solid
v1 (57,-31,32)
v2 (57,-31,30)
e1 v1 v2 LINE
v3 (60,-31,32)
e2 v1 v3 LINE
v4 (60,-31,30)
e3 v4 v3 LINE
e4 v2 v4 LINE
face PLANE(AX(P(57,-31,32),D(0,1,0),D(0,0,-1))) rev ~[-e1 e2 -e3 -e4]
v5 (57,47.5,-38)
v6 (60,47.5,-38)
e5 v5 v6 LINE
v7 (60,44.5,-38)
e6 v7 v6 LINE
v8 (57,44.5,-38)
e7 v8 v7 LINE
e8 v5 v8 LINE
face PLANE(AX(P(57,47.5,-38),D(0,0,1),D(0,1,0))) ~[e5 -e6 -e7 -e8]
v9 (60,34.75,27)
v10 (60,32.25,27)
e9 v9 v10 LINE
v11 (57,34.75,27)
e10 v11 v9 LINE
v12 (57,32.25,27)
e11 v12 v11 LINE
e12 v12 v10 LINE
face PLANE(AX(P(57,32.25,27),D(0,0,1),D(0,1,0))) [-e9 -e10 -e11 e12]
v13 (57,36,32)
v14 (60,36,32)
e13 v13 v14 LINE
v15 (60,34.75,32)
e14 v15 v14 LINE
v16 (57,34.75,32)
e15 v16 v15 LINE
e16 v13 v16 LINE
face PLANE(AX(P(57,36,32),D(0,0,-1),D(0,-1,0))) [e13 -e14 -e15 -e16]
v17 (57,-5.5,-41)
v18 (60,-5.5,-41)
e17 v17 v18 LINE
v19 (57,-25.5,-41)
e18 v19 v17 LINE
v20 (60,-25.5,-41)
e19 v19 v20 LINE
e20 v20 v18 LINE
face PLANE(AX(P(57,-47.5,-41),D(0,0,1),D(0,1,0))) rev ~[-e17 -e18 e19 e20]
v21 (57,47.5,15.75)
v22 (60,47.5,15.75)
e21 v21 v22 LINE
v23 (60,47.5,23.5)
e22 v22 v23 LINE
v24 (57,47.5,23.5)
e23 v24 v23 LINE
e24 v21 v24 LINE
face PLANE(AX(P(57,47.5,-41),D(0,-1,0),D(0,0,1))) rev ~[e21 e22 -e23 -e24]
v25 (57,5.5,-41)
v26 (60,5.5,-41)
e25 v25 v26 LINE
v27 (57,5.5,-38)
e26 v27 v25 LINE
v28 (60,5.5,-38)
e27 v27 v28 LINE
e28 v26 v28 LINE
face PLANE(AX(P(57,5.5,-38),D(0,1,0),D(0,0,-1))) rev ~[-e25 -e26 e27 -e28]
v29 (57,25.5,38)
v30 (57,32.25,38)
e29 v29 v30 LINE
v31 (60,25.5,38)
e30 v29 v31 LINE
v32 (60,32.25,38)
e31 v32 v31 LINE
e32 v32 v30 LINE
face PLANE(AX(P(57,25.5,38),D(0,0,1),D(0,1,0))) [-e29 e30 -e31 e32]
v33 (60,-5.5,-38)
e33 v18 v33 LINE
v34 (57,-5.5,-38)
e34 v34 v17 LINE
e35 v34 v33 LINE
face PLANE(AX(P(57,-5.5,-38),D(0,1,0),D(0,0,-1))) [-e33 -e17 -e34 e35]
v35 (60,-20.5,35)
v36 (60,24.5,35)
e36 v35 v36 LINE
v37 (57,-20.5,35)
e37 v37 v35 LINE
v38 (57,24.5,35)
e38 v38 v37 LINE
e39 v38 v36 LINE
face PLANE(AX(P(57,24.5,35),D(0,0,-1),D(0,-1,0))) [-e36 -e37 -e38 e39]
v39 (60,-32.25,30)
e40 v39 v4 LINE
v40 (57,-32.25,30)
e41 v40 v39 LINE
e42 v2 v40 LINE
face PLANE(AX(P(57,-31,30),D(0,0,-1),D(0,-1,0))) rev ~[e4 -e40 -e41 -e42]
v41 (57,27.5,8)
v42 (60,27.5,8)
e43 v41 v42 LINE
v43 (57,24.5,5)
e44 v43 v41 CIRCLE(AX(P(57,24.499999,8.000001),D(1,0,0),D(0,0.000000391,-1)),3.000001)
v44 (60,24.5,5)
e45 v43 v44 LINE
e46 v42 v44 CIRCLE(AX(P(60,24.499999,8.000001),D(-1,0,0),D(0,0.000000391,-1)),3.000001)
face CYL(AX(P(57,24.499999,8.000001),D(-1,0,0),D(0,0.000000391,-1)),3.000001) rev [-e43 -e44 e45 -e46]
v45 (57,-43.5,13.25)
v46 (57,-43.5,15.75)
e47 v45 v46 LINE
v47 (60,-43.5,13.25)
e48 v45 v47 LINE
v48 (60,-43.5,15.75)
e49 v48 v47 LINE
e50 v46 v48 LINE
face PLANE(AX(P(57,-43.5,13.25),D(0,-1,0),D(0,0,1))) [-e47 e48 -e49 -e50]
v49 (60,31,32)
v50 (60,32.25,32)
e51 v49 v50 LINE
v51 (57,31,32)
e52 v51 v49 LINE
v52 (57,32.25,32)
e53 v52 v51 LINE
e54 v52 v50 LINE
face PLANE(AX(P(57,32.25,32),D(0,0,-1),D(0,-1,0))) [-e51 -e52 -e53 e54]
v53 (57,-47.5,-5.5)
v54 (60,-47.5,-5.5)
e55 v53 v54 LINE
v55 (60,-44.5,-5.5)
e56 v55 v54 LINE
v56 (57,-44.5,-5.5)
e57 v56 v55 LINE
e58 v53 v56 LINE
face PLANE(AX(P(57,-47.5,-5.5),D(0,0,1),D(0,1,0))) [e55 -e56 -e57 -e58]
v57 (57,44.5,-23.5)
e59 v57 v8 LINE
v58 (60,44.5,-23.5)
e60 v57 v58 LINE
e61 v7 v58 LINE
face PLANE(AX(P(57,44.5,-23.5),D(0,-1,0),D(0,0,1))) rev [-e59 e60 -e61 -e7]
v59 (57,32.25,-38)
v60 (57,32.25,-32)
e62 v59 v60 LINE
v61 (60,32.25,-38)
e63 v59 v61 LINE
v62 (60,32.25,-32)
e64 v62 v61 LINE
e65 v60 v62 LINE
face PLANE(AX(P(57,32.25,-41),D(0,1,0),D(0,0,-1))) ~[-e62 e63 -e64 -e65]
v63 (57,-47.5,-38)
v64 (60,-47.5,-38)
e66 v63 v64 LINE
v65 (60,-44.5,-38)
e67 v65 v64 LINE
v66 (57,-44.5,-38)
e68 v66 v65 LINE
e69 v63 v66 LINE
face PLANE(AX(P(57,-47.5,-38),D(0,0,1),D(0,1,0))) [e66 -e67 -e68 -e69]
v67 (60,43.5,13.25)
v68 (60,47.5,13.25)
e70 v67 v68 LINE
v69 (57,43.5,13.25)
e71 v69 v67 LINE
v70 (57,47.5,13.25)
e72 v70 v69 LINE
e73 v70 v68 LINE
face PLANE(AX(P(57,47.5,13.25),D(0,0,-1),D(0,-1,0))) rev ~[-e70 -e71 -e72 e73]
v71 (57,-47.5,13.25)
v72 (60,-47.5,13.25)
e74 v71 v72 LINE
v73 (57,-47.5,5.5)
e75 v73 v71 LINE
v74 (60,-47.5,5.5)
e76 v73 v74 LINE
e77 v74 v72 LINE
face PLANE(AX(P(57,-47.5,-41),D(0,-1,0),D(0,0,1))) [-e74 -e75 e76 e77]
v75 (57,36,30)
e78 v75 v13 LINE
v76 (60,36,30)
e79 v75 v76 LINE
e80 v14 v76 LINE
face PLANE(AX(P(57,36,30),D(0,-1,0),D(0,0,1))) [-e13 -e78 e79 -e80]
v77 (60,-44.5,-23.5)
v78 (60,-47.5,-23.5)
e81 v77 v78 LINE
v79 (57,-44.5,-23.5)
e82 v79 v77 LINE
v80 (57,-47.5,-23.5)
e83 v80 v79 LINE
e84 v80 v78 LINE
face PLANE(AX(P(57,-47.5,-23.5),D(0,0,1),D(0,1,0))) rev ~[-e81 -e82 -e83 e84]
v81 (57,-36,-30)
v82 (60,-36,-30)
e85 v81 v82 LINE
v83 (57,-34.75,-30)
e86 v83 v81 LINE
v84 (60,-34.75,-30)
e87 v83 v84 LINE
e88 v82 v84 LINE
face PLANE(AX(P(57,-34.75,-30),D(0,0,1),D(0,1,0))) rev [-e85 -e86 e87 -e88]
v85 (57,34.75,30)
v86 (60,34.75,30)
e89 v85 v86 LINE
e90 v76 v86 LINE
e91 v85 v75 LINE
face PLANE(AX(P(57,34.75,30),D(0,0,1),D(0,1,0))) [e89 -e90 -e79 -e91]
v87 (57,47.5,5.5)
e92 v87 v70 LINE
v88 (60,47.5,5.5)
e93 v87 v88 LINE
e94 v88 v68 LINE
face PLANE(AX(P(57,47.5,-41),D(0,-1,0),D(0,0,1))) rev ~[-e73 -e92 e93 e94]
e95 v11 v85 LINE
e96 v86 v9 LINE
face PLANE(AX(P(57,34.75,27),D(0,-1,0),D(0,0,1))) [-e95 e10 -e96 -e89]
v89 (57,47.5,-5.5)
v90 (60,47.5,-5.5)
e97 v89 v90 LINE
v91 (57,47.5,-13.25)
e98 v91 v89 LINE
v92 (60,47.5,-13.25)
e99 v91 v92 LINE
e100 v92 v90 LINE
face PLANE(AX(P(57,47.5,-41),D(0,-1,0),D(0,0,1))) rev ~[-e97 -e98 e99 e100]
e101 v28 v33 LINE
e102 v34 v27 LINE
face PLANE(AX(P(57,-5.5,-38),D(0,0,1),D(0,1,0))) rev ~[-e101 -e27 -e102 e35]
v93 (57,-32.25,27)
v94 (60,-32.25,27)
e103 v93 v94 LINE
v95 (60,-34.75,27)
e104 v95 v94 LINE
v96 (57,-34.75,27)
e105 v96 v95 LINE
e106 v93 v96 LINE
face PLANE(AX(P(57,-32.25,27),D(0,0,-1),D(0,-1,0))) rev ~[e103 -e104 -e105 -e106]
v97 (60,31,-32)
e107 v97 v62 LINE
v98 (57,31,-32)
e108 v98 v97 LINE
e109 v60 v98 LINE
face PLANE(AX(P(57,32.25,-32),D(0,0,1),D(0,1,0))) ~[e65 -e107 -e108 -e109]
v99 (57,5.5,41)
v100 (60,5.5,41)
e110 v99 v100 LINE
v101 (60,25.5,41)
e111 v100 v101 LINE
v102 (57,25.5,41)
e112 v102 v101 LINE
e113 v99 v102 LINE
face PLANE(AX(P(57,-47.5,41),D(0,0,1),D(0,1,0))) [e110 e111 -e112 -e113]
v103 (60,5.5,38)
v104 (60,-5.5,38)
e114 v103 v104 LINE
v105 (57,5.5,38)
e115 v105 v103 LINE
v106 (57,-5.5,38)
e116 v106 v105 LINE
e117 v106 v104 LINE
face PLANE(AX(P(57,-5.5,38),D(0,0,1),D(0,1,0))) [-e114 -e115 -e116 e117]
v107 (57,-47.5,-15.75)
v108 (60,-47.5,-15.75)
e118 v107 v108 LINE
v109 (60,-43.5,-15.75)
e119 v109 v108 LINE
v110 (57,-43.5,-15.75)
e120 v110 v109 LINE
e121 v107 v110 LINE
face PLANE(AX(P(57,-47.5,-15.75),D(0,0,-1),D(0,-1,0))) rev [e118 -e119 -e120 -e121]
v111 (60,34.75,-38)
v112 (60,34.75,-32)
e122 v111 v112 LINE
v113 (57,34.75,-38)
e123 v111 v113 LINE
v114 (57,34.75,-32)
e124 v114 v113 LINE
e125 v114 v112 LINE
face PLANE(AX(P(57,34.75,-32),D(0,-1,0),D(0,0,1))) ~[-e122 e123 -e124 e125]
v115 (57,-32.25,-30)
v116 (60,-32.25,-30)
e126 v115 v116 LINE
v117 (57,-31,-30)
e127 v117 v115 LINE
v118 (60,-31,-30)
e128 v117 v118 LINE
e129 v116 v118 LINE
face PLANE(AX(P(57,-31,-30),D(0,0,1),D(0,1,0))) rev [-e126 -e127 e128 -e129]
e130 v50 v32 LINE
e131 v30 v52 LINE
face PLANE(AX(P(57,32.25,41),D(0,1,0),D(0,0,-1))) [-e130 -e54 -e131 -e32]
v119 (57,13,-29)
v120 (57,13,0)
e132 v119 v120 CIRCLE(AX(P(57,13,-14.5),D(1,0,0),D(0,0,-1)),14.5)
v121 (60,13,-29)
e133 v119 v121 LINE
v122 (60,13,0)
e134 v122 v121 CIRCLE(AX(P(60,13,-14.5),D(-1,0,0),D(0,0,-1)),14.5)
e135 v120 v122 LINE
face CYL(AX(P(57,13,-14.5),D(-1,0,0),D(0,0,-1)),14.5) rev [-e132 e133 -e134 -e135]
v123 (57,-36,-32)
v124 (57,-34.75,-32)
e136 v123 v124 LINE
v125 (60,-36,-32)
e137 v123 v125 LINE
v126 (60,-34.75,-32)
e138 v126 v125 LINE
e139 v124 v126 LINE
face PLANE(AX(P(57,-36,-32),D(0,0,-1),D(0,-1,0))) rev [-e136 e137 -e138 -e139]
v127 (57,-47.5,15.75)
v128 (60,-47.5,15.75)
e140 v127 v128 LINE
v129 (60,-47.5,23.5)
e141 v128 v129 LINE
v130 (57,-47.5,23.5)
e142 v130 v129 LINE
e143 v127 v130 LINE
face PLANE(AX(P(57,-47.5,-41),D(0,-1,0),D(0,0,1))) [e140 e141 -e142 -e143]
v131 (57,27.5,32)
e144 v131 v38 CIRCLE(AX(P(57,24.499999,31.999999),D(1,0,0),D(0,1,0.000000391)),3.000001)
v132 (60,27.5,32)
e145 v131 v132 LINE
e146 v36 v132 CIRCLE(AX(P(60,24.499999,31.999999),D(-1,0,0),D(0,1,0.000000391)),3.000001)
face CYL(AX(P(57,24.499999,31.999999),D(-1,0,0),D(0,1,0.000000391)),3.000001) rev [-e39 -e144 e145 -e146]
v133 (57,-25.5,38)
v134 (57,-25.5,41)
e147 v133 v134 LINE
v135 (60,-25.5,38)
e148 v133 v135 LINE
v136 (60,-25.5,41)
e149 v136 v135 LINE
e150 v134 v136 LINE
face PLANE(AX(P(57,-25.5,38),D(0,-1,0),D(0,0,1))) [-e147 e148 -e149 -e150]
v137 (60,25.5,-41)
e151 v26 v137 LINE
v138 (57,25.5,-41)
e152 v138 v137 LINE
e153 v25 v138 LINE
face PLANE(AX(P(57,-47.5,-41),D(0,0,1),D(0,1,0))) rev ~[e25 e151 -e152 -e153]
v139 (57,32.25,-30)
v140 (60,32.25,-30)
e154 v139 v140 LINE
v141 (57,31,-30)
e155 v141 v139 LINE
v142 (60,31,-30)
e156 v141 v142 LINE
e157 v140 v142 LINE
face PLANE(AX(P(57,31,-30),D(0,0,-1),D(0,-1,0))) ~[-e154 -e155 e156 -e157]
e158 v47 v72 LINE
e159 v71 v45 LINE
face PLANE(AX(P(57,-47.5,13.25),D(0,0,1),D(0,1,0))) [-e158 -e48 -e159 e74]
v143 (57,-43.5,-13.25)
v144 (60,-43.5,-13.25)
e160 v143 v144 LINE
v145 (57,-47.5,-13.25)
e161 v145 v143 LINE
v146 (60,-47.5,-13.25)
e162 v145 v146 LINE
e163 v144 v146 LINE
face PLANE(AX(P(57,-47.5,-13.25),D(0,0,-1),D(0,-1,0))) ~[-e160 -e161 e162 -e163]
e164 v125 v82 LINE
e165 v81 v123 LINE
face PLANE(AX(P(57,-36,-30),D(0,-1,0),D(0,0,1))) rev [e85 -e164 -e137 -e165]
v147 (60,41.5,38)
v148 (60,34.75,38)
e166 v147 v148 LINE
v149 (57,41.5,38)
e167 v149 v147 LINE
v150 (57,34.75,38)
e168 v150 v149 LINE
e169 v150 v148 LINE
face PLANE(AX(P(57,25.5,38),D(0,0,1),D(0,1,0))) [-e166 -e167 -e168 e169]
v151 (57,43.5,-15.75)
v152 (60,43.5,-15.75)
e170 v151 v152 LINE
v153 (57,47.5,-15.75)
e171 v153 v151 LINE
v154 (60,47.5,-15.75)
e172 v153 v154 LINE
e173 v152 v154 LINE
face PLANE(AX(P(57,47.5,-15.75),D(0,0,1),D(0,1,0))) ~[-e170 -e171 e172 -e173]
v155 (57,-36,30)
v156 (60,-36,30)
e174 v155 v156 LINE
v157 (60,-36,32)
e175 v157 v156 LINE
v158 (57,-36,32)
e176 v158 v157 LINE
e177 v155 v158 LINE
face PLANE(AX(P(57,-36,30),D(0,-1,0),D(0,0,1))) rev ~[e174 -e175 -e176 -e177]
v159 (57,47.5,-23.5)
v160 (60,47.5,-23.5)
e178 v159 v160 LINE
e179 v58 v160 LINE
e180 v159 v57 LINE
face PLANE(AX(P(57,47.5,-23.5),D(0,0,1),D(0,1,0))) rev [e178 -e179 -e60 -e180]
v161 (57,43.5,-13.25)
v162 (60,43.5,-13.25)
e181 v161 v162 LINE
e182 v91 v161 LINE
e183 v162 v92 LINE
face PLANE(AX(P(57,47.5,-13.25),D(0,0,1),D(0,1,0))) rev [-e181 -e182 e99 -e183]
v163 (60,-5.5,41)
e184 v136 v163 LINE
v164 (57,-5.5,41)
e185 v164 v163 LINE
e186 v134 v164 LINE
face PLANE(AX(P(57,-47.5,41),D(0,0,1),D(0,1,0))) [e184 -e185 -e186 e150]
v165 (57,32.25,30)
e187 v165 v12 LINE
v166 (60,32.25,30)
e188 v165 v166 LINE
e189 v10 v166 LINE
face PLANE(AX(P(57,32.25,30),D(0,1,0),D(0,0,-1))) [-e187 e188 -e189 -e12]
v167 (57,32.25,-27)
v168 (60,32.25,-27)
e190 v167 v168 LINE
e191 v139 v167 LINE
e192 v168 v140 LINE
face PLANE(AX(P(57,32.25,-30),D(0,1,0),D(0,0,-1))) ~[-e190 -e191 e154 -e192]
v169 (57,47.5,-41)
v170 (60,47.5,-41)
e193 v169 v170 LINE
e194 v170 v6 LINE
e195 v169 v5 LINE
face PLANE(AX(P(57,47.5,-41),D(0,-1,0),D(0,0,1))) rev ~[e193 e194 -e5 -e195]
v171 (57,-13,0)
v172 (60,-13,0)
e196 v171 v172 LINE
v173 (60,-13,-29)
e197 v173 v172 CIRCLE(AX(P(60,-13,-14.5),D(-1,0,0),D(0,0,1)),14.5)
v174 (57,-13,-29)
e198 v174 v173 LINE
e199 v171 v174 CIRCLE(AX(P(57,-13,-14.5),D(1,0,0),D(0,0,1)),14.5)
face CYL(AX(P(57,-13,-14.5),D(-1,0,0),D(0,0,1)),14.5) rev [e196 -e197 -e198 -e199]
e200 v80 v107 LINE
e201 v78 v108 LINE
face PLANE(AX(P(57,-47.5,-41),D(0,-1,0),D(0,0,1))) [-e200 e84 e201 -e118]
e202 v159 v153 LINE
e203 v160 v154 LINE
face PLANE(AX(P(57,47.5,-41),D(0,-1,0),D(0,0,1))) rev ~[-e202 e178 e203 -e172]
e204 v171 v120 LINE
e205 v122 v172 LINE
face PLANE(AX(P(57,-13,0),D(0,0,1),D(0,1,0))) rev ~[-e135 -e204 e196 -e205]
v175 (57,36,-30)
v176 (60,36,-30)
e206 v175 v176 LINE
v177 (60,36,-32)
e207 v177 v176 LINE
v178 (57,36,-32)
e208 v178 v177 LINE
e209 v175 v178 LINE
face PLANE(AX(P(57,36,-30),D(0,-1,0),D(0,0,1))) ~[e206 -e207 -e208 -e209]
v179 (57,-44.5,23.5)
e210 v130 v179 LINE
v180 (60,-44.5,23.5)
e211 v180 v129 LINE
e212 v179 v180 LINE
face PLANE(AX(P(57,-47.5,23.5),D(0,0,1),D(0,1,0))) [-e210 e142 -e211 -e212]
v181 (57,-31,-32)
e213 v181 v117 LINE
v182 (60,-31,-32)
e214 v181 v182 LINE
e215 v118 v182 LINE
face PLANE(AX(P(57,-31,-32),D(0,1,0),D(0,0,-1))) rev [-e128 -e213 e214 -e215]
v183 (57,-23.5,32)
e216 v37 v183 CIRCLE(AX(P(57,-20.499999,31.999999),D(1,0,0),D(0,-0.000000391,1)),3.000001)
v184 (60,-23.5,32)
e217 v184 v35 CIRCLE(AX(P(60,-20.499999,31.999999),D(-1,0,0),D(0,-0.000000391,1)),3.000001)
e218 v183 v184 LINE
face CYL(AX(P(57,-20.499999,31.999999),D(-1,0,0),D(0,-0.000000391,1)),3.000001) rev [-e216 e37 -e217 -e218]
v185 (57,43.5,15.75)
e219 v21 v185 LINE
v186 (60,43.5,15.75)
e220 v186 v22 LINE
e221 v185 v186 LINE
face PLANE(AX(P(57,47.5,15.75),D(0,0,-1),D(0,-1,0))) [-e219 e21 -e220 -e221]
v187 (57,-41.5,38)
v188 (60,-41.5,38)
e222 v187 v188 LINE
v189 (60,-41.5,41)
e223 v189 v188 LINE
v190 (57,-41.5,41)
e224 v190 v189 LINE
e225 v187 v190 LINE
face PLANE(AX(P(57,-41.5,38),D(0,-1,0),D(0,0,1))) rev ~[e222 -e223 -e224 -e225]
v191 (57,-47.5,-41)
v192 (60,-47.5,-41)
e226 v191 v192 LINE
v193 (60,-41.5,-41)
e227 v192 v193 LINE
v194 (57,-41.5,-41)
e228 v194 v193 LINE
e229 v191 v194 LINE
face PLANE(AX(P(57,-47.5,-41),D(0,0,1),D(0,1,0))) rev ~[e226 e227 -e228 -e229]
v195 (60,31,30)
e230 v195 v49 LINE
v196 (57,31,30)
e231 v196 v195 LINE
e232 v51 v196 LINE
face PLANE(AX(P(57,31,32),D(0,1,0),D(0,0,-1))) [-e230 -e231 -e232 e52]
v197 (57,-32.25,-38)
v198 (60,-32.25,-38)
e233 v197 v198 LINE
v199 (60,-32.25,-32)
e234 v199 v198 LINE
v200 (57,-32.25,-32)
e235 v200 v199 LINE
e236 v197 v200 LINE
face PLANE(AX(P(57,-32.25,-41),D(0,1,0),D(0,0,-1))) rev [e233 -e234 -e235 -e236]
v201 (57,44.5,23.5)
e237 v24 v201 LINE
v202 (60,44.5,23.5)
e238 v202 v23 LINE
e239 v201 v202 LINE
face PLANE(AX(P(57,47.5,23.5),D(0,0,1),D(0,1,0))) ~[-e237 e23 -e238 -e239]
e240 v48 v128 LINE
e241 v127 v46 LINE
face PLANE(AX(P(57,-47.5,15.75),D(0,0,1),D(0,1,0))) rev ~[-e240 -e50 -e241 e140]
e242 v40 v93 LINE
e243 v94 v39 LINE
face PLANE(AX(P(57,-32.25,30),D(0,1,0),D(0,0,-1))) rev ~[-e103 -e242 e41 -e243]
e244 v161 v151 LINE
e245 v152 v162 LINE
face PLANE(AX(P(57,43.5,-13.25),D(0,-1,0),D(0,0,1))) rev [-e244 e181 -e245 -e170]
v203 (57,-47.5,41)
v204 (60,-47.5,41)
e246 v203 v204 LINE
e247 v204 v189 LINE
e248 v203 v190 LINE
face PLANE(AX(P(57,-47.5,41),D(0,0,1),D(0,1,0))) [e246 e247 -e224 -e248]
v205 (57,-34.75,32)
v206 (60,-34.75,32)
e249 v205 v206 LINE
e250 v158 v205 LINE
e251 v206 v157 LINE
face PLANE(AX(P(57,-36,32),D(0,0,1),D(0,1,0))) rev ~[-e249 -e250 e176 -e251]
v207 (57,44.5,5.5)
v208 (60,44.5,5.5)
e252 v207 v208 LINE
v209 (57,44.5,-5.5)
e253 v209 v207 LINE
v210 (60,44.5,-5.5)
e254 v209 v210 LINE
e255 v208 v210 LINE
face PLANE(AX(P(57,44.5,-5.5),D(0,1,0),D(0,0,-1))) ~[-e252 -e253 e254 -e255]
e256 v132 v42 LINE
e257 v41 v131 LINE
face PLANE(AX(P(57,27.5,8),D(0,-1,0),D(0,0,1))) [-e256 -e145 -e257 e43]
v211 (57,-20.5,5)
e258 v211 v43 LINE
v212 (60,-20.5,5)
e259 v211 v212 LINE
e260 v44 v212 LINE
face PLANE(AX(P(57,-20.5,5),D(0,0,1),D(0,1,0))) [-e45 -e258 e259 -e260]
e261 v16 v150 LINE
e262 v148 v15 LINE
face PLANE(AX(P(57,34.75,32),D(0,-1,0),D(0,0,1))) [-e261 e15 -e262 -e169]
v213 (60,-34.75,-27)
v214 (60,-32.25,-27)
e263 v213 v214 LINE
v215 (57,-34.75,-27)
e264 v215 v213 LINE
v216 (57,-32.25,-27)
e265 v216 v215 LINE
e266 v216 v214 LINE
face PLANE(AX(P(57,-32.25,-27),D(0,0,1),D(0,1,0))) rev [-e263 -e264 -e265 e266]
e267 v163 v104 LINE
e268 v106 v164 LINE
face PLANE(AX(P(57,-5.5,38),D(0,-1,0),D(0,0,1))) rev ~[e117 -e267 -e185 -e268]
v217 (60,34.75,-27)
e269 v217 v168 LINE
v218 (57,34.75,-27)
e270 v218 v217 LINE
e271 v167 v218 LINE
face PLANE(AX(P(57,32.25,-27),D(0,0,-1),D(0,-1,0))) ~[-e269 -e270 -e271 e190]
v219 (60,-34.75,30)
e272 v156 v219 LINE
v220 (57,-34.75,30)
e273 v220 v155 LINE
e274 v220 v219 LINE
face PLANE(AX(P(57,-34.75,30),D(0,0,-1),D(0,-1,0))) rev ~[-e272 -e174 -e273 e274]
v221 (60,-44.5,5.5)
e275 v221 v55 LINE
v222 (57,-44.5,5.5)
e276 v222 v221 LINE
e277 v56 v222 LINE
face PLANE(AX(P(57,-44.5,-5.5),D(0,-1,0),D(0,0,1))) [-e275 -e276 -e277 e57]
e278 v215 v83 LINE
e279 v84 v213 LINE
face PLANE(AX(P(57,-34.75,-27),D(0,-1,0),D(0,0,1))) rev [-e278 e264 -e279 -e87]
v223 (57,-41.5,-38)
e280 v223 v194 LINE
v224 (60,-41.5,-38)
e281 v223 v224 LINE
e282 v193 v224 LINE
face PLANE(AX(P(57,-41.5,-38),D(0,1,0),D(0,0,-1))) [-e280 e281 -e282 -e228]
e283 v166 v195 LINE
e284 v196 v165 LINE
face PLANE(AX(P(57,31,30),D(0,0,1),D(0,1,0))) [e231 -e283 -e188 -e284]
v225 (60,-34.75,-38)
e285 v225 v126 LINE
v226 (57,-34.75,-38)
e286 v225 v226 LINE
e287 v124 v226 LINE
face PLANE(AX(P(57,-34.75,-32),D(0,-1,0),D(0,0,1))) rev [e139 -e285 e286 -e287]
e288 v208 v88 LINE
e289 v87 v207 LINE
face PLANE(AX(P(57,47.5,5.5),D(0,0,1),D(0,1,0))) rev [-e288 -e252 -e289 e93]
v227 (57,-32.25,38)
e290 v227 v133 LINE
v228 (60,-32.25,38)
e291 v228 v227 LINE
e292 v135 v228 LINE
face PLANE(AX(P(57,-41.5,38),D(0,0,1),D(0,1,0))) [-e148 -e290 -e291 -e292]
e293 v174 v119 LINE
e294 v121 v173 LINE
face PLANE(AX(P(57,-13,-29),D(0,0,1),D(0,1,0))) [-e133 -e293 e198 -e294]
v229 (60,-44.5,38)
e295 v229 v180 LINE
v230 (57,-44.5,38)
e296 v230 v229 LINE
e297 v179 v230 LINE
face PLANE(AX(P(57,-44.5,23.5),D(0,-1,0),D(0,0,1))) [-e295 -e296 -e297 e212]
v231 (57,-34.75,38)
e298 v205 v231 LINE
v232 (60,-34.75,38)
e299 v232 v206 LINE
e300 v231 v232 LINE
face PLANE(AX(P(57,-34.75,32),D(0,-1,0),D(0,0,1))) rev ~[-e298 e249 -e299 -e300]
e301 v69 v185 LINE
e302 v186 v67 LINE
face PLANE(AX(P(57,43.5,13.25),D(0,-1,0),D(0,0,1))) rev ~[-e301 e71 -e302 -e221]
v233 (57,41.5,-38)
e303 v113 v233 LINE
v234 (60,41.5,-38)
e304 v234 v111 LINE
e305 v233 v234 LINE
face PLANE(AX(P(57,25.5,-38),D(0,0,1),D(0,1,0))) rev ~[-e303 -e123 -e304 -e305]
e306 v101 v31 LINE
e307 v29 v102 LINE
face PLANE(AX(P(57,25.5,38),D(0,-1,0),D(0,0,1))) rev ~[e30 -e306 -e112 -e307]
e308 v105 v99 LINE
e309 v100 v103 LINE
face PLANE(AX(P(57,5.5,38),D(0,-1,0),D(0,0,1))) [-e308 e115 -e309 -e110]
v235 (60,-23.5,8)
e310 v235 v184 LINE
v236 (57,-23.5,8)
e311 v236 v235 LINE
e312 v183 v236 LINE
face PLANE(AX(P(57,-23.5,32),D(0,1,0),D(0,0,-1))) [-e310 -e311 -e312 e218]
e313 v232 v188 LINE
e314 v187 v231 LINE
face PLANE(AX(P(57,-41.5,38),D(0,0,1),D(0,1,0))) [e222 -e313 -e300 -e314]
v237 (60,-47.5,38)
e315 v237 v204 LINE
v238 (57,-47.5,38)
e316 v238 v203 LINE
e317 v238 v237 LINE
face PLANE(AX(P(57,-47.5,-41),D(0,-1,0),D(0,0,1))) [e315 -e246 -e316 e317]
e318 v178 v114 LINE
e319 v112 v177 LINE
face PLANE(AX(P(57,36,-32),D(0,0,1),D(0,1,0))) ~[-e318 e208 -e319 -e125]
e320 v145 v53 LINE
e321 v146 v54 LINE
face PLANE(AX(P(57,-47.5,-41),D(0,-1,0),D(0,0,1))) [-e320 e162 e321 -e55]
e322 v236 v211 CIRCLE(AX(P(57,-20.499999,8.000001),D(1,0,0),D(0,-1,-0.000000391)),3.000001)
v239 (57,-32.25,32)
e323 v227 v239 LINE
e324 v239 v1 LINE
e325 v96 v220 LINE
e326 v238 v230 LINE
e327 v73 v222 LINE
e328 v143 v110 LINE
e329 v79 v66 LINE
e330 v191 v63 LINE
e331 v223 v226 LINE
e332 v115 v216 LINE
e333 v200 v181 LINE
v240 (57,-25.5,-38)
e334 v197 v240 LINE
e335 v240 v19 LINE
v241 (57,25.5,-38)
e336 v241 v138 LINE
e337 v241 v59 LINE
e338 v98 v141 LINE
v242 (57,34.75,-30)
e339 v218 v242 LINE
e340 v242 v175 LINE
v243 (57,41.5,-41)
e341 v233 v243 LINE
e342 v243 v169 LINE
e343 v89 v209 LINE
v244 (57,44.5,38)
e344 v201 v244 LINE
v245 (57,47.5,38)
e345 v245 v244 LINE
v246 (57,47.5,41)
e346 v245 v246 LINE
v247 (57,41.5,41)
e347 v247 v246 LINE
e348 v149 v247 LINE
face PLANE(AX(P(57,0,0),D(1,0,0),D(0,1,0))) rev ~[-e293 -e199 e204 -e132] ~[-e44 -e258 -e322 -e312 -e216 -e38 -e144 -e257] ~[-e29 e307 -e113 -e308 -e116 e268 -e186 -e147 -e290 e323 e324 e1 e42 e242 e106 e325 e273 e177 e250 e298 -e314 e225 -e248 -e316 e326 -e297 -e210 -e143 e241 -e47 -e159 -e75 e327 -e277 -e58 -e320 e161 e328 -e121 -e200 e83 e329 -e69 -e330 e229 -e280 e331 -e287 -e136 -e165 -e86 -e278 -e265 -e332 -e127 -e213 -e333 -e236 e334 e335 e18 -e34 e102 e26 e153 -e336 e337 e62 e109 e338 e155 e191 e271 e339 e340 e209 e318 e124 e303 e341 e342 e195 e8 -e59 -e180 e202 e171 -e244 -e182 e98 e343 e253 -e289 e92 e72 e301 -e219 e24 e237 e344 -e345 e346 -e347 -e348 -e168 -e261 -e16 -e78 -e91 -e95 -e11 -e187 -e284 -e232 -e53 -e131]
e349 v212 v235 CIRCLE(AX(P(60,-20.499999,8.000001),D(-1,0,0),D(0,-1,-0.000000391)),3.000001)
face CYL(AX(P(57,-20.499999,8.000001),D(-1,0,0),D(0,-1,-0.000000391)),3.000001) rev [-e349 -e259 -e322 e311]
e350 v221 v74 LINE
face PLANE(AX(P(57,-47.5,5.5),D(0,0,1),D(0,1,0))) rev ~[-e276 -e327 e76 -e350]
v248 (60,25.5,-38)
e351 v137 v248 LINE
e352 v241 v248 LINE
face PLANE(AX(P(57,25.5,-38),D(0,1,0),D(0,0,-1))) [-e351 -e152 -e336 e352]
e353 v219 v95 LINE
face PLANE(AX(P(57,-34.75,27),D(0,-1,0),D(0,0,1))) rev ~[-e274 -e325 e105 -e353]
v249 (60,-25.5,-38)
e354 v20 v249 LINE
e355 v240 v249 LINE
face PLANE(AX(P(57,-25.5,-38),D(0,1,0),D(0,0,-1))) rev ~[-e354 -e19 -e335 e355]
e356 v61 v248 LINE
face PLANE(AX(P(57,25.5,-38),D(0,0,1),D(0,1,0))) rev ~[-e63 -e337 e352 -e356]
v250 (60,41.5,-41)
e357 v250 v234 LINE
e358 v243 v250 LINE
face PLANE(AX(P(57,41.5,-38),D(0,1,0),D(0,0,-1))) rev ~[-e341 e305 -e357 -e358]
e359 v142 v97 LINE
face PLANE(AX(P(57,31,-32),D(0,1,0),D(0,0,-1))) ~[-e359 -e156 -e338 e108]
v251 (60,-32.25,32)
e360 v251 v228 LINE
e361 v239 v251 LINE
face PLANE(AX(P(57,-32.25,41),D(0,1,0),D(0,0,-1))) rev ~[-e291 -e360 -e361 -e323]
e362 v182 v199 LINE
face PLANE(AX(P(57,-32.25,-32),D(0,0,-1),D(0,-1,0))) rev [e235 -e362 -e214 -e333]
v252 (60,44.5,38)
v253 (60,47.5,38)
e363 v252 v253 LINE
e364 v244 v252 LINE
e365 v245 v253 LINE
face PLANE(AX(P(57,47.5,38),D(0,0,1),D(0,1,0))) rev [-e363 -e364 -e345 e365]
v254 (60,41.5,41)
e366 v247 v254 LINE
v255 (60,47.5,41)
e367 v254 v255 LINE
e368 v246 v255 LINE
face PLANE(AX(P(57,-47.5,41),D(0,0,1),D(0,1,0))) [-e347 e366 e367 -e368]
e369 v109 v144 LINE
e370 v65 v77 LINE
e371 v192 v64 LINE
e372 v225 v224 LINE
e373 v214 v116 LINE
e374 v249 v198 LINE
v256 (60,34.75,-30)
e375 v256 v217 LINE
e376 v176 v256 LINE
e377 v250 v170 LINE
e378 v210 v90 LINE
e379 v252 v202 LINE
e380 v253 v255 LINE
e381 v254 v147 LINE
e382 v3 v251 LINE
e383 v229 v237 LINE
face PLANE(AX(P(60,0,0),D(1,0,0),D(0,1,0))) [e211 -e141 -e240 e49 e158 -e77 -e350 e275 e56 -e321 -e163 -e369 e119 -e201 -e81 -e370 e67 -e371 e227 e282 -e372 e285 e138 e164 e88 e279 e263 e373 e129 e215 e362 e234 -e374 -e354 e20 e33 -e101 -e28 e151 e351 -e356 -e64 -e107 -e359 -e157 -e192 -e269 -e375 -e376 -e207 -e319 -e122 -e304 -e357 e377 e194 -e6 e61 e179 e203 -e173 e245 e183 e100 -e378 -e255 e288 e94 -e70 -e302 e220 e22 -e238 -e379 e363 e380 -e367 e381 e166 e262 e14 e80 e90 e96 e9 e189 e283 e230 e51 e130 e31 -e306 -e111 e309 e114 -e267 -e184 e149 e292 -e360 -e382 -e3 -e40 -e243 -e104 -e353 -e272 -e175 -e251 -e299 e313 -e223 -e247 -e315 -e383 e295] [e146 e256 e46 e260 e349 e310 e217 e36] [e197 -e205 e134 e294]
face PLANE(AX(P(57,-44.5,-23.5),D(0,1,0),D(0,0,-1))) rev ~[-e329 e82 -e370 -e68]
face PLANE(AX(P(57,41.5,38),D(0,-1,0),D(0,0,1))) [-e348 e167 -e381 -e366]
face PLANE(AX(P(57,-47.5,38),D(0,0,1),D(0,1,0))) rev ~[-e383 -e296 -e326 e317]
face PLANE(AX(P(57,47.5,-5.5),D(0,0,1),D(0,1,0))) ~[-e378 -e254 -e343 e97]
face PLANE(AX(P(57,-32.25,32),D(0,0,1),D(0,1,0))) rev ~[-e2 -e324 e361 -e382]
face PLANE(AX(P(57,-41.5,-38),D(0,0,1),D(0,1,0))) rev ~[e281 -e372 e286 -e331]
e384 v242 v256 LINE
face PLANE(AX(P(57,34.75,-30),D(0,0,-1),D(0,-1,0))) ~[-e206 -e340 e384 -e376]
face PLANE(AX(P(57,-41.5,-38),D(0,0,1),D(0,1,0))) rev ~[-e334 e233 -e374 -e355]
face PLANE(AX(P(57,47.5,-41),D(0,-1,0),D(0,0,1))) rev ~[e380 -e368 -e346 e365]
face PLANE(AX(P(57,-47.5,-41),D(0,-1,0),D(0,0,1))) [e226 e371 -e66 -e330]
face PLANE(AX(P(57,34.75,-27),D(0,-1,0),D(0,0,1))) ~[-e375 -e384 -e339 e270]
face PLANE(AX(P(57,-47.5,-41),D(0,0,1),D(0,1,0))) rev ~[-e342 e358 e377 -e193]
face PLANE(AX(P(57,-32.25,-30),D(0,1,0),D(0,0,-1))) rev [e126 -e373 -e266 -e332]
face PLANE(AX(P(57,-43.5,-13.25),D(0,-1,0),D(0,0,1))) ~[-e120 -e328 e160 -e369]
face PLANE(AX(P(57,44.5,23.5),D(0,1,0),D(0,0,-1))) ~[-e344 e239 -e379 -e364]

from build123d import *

# Parameters (mm, degrees)
SKETCH020_W                   = 95
SKETCH020_H                   = 82
PAD005_DEPTH                  = 3
SKETCH021_W                   = 11
SKETCH021_H                   = 3
SKETCH021_W_2                 = 16
SKETCH021_W_3                 = 3
SKETCH021_H_2                 = 14.5
SKETCH021_H_3                 = 11
POCKET015_DEPTH               = 254.062745
SKETCH021_MIRRORED019_2_W     = 11
SKETCH021_MIRRORED019_2_H     = 3
SKETCH021_MIRRORED019_2_W_2   = 16
SKETCH021_MIRRORED019_2_W_3   = 3
SKETCH021_MIRRORED019_2_H_2   = 14.5
SKETCH021_MIRRORED019_2_H_3   = 11
POCKET015_MIRRORED019_2_DEPTH = 254.062745
SKETCH022_W                   = 4
SKETCH022_H                   = 2.5
POCKET016_DEPTH               = 254.062745
POCKET017_DEPTH               = 3.001
SKETCH022_MIRRORED026_2_W     = 4
SKETCH022_MIRRORED026_2_H     = 2.5
POCKET016_MIRRORED026_2_DEPTH = 254.062745


with BuildPart() as part:
    # Sketch020 → Pad005 (new body)
    with BuildSketch(Plane.YZ):
        Rectangle(SKETCH020_W, SKETCH020_H)
    extrude(amount=PAD005_DEPTH)

    # Sketch021 → Pocket015 (cut, through all)
    with BuildSketch(Plane.YZ):
        with Locations((0, 39.5)):
            Rectangle(SKETCH021_W, SKETCH021_H)
        with Locations((-33.5, 39.5)):
            Rectangle(SKETCH021_W_2, SKETCH021_H)
        with Locations((33.5, 39.5)):
            Rectangle(SKETCH021_W_2, SKETCH021_H)
        with Locations((-46, 30.75)):
            Rectangle(SKETCH021_W_3, SKETCH021_H_2)
        with Locations((-46, 0)):
            Rectangle(SKETCH021_W_3, SKETCH021_H_3)
    pocket015 = extrude(amount=POCKET015_DEPTH, mode=Mode.SUBTRACT)

    # Sketch021 Mirrored019 2 → Pocket015 Mirrored019 2 (cut, through all)
    with BuildSketch(Plane(origin=(0, 0, 0), x_dir=(0, 1, 0), z_dir=(-1, 0, 0))):
        with Locations((0, 39.5)):
            Rectangle(SKETCH021_MIRRORED019_2_W, SKETCH021_MIRRORED019_2_H)
        with Locations((-33.5, 39.5)):
            Rectangle(SKETCH021_MIRRORED019_2_W_2, SKETCH021_MIRRORED019_2_H)
        with Locations((33.5, 39.5)):
            Rectangle(SKETCH021_MIRRORED019_2_W_2, SKETCH021_MIRRORED019_2_H)
        with Locations((-46, 30.75)):
            Rectangle(SKETCH021_MIRRORED019_2_W_3, SKETCH021_MIRRORED019_2_H_2)
        with Locations((-46, 0)):
            Rectangle(SKETCH021_MIRRORED019_2_W_3, SKETCH021_MIRRORED019_2_H_3)
    pocket015_mirrored019_2 = extrude(amount=-POCKET015_MIRRORED019_2_DEPTH, mode=Mode.SUBTRACT)

    # Mirrored028: Pocket015, Pocket015 Mirrored019 2 across Sketch021 V_Axis
    add(pocket015.mirror(Plane(origin=(0, 0, 0), x_dir=(1, 0, 0), z_dir=(0, 1, 0))), mode=Mode.SUBTRACT)
    add(pocket015_mirrored019_2.mirror(Plane(origin=(0, 0, 0), x_dir=(1, 0, 0), z_dir=(0, 1, 0))), mode=Mode.SUBTRACT)

    # Sketch022 → Pocket016 (cut, through all)
    with BuildSketch(Plane.YZ):
        Polygon((-32.25, 41), (-32.25, 32), (-31, 32), (-31, 30), (-32.25, 30), (-32.25, 27), (-34.75, 27), (-34.75, 30), (-36, 30), (-36, 32), (-34.75, 32), (-34.75, 41), align=None)
        with Locations((-45.5, 14.5)):
            Rectangle(SKETCH022_W, SKETCH022_H)
    pocket016 = extrude(amount=POCKET016_DEPTH, mode=Mode.SUBTRACT)

    # Sketch023 → Pocket017 (cut, through all)
    with BuildSketch(Plane.YZ):
        with BuildLine():
            Line((-20.5, 5), (24.5, 5))
            ThreePointArc((24.5, 5), (26.62132, 5.87868), (27.5, 8))
            Line((27.5, 8), (27.5, 32))
            ThreePointArc((27.5, 32), (26.62132, 34.12132), (24.5, 35))
            Line((24.5, 35), (-20.5, 35))
            ThreePointArc((-20.5, 35), (-22.62132, 34.12132), (-23.5, 32))
            Line((-23.5, 32), (-23.5, 8))
            ThreePointArc((-23.5, 8), (-22.62132, 5.87868), (-20.5, 5))
        make_face()
        with BuildLine():
            ThreePointArc((-13, 0), (-27.5, -14.5), (-13, -29))
            Line((-13, -29), (13, -29))
            ThreePointArc((13, -29), (27.5, -14.5), (13, 0))
            Line((-13, 0), (13, 0))
        make_face()
    extrude(amount=POCKET017_DEPTH, mode=Mode.SUBTRACT)

    # Sketch022 Mirrored026 2 → Pocket016 Mirrored026 2 (cut, through all)
    with BuildSketch(Plane(origin=(0, 0, 0), x_dir=(0, -1, 0), z_dir=(-1, 0, 0))):
        Polygon((-32.25, 41), (-32.25, 32), (-31, 32), (-31, 30), (-32.25, 30), (-32.25, 27), (-34.75, 27), (-34.75, 30), (-36, 30), (-36, 32), (-34.75, 32), (-34.75, 41), align=None)
        with Locations((-45.5, 14.5)):
            Rectangle(SKETCH022_MIRRORED026_2_W, SKETCH022_MIRRORED026_2_H)
    pocket016_mirrored026_2 = extrude(amount=-POCKET016_MIRRORED026_2_DEPTH, mode=Mode.SUBTRACT)

    # Mirrored027: Pocket016, Pocket016 Mirrored026 2 across Sketch022 H_Axis
    add(pocket016.mirror(Plane.XY), mode=Mode.SUBTRACT)
    add(pocket016_mirrored026_2.mirror(Plane.XY), mode=Mode.SUBTRACT)


with BuildPart() as part_1:
    # Body005 placement: moved
    add(part.part.moved(Location((57, 0, 0))))


solid = part_1.part
